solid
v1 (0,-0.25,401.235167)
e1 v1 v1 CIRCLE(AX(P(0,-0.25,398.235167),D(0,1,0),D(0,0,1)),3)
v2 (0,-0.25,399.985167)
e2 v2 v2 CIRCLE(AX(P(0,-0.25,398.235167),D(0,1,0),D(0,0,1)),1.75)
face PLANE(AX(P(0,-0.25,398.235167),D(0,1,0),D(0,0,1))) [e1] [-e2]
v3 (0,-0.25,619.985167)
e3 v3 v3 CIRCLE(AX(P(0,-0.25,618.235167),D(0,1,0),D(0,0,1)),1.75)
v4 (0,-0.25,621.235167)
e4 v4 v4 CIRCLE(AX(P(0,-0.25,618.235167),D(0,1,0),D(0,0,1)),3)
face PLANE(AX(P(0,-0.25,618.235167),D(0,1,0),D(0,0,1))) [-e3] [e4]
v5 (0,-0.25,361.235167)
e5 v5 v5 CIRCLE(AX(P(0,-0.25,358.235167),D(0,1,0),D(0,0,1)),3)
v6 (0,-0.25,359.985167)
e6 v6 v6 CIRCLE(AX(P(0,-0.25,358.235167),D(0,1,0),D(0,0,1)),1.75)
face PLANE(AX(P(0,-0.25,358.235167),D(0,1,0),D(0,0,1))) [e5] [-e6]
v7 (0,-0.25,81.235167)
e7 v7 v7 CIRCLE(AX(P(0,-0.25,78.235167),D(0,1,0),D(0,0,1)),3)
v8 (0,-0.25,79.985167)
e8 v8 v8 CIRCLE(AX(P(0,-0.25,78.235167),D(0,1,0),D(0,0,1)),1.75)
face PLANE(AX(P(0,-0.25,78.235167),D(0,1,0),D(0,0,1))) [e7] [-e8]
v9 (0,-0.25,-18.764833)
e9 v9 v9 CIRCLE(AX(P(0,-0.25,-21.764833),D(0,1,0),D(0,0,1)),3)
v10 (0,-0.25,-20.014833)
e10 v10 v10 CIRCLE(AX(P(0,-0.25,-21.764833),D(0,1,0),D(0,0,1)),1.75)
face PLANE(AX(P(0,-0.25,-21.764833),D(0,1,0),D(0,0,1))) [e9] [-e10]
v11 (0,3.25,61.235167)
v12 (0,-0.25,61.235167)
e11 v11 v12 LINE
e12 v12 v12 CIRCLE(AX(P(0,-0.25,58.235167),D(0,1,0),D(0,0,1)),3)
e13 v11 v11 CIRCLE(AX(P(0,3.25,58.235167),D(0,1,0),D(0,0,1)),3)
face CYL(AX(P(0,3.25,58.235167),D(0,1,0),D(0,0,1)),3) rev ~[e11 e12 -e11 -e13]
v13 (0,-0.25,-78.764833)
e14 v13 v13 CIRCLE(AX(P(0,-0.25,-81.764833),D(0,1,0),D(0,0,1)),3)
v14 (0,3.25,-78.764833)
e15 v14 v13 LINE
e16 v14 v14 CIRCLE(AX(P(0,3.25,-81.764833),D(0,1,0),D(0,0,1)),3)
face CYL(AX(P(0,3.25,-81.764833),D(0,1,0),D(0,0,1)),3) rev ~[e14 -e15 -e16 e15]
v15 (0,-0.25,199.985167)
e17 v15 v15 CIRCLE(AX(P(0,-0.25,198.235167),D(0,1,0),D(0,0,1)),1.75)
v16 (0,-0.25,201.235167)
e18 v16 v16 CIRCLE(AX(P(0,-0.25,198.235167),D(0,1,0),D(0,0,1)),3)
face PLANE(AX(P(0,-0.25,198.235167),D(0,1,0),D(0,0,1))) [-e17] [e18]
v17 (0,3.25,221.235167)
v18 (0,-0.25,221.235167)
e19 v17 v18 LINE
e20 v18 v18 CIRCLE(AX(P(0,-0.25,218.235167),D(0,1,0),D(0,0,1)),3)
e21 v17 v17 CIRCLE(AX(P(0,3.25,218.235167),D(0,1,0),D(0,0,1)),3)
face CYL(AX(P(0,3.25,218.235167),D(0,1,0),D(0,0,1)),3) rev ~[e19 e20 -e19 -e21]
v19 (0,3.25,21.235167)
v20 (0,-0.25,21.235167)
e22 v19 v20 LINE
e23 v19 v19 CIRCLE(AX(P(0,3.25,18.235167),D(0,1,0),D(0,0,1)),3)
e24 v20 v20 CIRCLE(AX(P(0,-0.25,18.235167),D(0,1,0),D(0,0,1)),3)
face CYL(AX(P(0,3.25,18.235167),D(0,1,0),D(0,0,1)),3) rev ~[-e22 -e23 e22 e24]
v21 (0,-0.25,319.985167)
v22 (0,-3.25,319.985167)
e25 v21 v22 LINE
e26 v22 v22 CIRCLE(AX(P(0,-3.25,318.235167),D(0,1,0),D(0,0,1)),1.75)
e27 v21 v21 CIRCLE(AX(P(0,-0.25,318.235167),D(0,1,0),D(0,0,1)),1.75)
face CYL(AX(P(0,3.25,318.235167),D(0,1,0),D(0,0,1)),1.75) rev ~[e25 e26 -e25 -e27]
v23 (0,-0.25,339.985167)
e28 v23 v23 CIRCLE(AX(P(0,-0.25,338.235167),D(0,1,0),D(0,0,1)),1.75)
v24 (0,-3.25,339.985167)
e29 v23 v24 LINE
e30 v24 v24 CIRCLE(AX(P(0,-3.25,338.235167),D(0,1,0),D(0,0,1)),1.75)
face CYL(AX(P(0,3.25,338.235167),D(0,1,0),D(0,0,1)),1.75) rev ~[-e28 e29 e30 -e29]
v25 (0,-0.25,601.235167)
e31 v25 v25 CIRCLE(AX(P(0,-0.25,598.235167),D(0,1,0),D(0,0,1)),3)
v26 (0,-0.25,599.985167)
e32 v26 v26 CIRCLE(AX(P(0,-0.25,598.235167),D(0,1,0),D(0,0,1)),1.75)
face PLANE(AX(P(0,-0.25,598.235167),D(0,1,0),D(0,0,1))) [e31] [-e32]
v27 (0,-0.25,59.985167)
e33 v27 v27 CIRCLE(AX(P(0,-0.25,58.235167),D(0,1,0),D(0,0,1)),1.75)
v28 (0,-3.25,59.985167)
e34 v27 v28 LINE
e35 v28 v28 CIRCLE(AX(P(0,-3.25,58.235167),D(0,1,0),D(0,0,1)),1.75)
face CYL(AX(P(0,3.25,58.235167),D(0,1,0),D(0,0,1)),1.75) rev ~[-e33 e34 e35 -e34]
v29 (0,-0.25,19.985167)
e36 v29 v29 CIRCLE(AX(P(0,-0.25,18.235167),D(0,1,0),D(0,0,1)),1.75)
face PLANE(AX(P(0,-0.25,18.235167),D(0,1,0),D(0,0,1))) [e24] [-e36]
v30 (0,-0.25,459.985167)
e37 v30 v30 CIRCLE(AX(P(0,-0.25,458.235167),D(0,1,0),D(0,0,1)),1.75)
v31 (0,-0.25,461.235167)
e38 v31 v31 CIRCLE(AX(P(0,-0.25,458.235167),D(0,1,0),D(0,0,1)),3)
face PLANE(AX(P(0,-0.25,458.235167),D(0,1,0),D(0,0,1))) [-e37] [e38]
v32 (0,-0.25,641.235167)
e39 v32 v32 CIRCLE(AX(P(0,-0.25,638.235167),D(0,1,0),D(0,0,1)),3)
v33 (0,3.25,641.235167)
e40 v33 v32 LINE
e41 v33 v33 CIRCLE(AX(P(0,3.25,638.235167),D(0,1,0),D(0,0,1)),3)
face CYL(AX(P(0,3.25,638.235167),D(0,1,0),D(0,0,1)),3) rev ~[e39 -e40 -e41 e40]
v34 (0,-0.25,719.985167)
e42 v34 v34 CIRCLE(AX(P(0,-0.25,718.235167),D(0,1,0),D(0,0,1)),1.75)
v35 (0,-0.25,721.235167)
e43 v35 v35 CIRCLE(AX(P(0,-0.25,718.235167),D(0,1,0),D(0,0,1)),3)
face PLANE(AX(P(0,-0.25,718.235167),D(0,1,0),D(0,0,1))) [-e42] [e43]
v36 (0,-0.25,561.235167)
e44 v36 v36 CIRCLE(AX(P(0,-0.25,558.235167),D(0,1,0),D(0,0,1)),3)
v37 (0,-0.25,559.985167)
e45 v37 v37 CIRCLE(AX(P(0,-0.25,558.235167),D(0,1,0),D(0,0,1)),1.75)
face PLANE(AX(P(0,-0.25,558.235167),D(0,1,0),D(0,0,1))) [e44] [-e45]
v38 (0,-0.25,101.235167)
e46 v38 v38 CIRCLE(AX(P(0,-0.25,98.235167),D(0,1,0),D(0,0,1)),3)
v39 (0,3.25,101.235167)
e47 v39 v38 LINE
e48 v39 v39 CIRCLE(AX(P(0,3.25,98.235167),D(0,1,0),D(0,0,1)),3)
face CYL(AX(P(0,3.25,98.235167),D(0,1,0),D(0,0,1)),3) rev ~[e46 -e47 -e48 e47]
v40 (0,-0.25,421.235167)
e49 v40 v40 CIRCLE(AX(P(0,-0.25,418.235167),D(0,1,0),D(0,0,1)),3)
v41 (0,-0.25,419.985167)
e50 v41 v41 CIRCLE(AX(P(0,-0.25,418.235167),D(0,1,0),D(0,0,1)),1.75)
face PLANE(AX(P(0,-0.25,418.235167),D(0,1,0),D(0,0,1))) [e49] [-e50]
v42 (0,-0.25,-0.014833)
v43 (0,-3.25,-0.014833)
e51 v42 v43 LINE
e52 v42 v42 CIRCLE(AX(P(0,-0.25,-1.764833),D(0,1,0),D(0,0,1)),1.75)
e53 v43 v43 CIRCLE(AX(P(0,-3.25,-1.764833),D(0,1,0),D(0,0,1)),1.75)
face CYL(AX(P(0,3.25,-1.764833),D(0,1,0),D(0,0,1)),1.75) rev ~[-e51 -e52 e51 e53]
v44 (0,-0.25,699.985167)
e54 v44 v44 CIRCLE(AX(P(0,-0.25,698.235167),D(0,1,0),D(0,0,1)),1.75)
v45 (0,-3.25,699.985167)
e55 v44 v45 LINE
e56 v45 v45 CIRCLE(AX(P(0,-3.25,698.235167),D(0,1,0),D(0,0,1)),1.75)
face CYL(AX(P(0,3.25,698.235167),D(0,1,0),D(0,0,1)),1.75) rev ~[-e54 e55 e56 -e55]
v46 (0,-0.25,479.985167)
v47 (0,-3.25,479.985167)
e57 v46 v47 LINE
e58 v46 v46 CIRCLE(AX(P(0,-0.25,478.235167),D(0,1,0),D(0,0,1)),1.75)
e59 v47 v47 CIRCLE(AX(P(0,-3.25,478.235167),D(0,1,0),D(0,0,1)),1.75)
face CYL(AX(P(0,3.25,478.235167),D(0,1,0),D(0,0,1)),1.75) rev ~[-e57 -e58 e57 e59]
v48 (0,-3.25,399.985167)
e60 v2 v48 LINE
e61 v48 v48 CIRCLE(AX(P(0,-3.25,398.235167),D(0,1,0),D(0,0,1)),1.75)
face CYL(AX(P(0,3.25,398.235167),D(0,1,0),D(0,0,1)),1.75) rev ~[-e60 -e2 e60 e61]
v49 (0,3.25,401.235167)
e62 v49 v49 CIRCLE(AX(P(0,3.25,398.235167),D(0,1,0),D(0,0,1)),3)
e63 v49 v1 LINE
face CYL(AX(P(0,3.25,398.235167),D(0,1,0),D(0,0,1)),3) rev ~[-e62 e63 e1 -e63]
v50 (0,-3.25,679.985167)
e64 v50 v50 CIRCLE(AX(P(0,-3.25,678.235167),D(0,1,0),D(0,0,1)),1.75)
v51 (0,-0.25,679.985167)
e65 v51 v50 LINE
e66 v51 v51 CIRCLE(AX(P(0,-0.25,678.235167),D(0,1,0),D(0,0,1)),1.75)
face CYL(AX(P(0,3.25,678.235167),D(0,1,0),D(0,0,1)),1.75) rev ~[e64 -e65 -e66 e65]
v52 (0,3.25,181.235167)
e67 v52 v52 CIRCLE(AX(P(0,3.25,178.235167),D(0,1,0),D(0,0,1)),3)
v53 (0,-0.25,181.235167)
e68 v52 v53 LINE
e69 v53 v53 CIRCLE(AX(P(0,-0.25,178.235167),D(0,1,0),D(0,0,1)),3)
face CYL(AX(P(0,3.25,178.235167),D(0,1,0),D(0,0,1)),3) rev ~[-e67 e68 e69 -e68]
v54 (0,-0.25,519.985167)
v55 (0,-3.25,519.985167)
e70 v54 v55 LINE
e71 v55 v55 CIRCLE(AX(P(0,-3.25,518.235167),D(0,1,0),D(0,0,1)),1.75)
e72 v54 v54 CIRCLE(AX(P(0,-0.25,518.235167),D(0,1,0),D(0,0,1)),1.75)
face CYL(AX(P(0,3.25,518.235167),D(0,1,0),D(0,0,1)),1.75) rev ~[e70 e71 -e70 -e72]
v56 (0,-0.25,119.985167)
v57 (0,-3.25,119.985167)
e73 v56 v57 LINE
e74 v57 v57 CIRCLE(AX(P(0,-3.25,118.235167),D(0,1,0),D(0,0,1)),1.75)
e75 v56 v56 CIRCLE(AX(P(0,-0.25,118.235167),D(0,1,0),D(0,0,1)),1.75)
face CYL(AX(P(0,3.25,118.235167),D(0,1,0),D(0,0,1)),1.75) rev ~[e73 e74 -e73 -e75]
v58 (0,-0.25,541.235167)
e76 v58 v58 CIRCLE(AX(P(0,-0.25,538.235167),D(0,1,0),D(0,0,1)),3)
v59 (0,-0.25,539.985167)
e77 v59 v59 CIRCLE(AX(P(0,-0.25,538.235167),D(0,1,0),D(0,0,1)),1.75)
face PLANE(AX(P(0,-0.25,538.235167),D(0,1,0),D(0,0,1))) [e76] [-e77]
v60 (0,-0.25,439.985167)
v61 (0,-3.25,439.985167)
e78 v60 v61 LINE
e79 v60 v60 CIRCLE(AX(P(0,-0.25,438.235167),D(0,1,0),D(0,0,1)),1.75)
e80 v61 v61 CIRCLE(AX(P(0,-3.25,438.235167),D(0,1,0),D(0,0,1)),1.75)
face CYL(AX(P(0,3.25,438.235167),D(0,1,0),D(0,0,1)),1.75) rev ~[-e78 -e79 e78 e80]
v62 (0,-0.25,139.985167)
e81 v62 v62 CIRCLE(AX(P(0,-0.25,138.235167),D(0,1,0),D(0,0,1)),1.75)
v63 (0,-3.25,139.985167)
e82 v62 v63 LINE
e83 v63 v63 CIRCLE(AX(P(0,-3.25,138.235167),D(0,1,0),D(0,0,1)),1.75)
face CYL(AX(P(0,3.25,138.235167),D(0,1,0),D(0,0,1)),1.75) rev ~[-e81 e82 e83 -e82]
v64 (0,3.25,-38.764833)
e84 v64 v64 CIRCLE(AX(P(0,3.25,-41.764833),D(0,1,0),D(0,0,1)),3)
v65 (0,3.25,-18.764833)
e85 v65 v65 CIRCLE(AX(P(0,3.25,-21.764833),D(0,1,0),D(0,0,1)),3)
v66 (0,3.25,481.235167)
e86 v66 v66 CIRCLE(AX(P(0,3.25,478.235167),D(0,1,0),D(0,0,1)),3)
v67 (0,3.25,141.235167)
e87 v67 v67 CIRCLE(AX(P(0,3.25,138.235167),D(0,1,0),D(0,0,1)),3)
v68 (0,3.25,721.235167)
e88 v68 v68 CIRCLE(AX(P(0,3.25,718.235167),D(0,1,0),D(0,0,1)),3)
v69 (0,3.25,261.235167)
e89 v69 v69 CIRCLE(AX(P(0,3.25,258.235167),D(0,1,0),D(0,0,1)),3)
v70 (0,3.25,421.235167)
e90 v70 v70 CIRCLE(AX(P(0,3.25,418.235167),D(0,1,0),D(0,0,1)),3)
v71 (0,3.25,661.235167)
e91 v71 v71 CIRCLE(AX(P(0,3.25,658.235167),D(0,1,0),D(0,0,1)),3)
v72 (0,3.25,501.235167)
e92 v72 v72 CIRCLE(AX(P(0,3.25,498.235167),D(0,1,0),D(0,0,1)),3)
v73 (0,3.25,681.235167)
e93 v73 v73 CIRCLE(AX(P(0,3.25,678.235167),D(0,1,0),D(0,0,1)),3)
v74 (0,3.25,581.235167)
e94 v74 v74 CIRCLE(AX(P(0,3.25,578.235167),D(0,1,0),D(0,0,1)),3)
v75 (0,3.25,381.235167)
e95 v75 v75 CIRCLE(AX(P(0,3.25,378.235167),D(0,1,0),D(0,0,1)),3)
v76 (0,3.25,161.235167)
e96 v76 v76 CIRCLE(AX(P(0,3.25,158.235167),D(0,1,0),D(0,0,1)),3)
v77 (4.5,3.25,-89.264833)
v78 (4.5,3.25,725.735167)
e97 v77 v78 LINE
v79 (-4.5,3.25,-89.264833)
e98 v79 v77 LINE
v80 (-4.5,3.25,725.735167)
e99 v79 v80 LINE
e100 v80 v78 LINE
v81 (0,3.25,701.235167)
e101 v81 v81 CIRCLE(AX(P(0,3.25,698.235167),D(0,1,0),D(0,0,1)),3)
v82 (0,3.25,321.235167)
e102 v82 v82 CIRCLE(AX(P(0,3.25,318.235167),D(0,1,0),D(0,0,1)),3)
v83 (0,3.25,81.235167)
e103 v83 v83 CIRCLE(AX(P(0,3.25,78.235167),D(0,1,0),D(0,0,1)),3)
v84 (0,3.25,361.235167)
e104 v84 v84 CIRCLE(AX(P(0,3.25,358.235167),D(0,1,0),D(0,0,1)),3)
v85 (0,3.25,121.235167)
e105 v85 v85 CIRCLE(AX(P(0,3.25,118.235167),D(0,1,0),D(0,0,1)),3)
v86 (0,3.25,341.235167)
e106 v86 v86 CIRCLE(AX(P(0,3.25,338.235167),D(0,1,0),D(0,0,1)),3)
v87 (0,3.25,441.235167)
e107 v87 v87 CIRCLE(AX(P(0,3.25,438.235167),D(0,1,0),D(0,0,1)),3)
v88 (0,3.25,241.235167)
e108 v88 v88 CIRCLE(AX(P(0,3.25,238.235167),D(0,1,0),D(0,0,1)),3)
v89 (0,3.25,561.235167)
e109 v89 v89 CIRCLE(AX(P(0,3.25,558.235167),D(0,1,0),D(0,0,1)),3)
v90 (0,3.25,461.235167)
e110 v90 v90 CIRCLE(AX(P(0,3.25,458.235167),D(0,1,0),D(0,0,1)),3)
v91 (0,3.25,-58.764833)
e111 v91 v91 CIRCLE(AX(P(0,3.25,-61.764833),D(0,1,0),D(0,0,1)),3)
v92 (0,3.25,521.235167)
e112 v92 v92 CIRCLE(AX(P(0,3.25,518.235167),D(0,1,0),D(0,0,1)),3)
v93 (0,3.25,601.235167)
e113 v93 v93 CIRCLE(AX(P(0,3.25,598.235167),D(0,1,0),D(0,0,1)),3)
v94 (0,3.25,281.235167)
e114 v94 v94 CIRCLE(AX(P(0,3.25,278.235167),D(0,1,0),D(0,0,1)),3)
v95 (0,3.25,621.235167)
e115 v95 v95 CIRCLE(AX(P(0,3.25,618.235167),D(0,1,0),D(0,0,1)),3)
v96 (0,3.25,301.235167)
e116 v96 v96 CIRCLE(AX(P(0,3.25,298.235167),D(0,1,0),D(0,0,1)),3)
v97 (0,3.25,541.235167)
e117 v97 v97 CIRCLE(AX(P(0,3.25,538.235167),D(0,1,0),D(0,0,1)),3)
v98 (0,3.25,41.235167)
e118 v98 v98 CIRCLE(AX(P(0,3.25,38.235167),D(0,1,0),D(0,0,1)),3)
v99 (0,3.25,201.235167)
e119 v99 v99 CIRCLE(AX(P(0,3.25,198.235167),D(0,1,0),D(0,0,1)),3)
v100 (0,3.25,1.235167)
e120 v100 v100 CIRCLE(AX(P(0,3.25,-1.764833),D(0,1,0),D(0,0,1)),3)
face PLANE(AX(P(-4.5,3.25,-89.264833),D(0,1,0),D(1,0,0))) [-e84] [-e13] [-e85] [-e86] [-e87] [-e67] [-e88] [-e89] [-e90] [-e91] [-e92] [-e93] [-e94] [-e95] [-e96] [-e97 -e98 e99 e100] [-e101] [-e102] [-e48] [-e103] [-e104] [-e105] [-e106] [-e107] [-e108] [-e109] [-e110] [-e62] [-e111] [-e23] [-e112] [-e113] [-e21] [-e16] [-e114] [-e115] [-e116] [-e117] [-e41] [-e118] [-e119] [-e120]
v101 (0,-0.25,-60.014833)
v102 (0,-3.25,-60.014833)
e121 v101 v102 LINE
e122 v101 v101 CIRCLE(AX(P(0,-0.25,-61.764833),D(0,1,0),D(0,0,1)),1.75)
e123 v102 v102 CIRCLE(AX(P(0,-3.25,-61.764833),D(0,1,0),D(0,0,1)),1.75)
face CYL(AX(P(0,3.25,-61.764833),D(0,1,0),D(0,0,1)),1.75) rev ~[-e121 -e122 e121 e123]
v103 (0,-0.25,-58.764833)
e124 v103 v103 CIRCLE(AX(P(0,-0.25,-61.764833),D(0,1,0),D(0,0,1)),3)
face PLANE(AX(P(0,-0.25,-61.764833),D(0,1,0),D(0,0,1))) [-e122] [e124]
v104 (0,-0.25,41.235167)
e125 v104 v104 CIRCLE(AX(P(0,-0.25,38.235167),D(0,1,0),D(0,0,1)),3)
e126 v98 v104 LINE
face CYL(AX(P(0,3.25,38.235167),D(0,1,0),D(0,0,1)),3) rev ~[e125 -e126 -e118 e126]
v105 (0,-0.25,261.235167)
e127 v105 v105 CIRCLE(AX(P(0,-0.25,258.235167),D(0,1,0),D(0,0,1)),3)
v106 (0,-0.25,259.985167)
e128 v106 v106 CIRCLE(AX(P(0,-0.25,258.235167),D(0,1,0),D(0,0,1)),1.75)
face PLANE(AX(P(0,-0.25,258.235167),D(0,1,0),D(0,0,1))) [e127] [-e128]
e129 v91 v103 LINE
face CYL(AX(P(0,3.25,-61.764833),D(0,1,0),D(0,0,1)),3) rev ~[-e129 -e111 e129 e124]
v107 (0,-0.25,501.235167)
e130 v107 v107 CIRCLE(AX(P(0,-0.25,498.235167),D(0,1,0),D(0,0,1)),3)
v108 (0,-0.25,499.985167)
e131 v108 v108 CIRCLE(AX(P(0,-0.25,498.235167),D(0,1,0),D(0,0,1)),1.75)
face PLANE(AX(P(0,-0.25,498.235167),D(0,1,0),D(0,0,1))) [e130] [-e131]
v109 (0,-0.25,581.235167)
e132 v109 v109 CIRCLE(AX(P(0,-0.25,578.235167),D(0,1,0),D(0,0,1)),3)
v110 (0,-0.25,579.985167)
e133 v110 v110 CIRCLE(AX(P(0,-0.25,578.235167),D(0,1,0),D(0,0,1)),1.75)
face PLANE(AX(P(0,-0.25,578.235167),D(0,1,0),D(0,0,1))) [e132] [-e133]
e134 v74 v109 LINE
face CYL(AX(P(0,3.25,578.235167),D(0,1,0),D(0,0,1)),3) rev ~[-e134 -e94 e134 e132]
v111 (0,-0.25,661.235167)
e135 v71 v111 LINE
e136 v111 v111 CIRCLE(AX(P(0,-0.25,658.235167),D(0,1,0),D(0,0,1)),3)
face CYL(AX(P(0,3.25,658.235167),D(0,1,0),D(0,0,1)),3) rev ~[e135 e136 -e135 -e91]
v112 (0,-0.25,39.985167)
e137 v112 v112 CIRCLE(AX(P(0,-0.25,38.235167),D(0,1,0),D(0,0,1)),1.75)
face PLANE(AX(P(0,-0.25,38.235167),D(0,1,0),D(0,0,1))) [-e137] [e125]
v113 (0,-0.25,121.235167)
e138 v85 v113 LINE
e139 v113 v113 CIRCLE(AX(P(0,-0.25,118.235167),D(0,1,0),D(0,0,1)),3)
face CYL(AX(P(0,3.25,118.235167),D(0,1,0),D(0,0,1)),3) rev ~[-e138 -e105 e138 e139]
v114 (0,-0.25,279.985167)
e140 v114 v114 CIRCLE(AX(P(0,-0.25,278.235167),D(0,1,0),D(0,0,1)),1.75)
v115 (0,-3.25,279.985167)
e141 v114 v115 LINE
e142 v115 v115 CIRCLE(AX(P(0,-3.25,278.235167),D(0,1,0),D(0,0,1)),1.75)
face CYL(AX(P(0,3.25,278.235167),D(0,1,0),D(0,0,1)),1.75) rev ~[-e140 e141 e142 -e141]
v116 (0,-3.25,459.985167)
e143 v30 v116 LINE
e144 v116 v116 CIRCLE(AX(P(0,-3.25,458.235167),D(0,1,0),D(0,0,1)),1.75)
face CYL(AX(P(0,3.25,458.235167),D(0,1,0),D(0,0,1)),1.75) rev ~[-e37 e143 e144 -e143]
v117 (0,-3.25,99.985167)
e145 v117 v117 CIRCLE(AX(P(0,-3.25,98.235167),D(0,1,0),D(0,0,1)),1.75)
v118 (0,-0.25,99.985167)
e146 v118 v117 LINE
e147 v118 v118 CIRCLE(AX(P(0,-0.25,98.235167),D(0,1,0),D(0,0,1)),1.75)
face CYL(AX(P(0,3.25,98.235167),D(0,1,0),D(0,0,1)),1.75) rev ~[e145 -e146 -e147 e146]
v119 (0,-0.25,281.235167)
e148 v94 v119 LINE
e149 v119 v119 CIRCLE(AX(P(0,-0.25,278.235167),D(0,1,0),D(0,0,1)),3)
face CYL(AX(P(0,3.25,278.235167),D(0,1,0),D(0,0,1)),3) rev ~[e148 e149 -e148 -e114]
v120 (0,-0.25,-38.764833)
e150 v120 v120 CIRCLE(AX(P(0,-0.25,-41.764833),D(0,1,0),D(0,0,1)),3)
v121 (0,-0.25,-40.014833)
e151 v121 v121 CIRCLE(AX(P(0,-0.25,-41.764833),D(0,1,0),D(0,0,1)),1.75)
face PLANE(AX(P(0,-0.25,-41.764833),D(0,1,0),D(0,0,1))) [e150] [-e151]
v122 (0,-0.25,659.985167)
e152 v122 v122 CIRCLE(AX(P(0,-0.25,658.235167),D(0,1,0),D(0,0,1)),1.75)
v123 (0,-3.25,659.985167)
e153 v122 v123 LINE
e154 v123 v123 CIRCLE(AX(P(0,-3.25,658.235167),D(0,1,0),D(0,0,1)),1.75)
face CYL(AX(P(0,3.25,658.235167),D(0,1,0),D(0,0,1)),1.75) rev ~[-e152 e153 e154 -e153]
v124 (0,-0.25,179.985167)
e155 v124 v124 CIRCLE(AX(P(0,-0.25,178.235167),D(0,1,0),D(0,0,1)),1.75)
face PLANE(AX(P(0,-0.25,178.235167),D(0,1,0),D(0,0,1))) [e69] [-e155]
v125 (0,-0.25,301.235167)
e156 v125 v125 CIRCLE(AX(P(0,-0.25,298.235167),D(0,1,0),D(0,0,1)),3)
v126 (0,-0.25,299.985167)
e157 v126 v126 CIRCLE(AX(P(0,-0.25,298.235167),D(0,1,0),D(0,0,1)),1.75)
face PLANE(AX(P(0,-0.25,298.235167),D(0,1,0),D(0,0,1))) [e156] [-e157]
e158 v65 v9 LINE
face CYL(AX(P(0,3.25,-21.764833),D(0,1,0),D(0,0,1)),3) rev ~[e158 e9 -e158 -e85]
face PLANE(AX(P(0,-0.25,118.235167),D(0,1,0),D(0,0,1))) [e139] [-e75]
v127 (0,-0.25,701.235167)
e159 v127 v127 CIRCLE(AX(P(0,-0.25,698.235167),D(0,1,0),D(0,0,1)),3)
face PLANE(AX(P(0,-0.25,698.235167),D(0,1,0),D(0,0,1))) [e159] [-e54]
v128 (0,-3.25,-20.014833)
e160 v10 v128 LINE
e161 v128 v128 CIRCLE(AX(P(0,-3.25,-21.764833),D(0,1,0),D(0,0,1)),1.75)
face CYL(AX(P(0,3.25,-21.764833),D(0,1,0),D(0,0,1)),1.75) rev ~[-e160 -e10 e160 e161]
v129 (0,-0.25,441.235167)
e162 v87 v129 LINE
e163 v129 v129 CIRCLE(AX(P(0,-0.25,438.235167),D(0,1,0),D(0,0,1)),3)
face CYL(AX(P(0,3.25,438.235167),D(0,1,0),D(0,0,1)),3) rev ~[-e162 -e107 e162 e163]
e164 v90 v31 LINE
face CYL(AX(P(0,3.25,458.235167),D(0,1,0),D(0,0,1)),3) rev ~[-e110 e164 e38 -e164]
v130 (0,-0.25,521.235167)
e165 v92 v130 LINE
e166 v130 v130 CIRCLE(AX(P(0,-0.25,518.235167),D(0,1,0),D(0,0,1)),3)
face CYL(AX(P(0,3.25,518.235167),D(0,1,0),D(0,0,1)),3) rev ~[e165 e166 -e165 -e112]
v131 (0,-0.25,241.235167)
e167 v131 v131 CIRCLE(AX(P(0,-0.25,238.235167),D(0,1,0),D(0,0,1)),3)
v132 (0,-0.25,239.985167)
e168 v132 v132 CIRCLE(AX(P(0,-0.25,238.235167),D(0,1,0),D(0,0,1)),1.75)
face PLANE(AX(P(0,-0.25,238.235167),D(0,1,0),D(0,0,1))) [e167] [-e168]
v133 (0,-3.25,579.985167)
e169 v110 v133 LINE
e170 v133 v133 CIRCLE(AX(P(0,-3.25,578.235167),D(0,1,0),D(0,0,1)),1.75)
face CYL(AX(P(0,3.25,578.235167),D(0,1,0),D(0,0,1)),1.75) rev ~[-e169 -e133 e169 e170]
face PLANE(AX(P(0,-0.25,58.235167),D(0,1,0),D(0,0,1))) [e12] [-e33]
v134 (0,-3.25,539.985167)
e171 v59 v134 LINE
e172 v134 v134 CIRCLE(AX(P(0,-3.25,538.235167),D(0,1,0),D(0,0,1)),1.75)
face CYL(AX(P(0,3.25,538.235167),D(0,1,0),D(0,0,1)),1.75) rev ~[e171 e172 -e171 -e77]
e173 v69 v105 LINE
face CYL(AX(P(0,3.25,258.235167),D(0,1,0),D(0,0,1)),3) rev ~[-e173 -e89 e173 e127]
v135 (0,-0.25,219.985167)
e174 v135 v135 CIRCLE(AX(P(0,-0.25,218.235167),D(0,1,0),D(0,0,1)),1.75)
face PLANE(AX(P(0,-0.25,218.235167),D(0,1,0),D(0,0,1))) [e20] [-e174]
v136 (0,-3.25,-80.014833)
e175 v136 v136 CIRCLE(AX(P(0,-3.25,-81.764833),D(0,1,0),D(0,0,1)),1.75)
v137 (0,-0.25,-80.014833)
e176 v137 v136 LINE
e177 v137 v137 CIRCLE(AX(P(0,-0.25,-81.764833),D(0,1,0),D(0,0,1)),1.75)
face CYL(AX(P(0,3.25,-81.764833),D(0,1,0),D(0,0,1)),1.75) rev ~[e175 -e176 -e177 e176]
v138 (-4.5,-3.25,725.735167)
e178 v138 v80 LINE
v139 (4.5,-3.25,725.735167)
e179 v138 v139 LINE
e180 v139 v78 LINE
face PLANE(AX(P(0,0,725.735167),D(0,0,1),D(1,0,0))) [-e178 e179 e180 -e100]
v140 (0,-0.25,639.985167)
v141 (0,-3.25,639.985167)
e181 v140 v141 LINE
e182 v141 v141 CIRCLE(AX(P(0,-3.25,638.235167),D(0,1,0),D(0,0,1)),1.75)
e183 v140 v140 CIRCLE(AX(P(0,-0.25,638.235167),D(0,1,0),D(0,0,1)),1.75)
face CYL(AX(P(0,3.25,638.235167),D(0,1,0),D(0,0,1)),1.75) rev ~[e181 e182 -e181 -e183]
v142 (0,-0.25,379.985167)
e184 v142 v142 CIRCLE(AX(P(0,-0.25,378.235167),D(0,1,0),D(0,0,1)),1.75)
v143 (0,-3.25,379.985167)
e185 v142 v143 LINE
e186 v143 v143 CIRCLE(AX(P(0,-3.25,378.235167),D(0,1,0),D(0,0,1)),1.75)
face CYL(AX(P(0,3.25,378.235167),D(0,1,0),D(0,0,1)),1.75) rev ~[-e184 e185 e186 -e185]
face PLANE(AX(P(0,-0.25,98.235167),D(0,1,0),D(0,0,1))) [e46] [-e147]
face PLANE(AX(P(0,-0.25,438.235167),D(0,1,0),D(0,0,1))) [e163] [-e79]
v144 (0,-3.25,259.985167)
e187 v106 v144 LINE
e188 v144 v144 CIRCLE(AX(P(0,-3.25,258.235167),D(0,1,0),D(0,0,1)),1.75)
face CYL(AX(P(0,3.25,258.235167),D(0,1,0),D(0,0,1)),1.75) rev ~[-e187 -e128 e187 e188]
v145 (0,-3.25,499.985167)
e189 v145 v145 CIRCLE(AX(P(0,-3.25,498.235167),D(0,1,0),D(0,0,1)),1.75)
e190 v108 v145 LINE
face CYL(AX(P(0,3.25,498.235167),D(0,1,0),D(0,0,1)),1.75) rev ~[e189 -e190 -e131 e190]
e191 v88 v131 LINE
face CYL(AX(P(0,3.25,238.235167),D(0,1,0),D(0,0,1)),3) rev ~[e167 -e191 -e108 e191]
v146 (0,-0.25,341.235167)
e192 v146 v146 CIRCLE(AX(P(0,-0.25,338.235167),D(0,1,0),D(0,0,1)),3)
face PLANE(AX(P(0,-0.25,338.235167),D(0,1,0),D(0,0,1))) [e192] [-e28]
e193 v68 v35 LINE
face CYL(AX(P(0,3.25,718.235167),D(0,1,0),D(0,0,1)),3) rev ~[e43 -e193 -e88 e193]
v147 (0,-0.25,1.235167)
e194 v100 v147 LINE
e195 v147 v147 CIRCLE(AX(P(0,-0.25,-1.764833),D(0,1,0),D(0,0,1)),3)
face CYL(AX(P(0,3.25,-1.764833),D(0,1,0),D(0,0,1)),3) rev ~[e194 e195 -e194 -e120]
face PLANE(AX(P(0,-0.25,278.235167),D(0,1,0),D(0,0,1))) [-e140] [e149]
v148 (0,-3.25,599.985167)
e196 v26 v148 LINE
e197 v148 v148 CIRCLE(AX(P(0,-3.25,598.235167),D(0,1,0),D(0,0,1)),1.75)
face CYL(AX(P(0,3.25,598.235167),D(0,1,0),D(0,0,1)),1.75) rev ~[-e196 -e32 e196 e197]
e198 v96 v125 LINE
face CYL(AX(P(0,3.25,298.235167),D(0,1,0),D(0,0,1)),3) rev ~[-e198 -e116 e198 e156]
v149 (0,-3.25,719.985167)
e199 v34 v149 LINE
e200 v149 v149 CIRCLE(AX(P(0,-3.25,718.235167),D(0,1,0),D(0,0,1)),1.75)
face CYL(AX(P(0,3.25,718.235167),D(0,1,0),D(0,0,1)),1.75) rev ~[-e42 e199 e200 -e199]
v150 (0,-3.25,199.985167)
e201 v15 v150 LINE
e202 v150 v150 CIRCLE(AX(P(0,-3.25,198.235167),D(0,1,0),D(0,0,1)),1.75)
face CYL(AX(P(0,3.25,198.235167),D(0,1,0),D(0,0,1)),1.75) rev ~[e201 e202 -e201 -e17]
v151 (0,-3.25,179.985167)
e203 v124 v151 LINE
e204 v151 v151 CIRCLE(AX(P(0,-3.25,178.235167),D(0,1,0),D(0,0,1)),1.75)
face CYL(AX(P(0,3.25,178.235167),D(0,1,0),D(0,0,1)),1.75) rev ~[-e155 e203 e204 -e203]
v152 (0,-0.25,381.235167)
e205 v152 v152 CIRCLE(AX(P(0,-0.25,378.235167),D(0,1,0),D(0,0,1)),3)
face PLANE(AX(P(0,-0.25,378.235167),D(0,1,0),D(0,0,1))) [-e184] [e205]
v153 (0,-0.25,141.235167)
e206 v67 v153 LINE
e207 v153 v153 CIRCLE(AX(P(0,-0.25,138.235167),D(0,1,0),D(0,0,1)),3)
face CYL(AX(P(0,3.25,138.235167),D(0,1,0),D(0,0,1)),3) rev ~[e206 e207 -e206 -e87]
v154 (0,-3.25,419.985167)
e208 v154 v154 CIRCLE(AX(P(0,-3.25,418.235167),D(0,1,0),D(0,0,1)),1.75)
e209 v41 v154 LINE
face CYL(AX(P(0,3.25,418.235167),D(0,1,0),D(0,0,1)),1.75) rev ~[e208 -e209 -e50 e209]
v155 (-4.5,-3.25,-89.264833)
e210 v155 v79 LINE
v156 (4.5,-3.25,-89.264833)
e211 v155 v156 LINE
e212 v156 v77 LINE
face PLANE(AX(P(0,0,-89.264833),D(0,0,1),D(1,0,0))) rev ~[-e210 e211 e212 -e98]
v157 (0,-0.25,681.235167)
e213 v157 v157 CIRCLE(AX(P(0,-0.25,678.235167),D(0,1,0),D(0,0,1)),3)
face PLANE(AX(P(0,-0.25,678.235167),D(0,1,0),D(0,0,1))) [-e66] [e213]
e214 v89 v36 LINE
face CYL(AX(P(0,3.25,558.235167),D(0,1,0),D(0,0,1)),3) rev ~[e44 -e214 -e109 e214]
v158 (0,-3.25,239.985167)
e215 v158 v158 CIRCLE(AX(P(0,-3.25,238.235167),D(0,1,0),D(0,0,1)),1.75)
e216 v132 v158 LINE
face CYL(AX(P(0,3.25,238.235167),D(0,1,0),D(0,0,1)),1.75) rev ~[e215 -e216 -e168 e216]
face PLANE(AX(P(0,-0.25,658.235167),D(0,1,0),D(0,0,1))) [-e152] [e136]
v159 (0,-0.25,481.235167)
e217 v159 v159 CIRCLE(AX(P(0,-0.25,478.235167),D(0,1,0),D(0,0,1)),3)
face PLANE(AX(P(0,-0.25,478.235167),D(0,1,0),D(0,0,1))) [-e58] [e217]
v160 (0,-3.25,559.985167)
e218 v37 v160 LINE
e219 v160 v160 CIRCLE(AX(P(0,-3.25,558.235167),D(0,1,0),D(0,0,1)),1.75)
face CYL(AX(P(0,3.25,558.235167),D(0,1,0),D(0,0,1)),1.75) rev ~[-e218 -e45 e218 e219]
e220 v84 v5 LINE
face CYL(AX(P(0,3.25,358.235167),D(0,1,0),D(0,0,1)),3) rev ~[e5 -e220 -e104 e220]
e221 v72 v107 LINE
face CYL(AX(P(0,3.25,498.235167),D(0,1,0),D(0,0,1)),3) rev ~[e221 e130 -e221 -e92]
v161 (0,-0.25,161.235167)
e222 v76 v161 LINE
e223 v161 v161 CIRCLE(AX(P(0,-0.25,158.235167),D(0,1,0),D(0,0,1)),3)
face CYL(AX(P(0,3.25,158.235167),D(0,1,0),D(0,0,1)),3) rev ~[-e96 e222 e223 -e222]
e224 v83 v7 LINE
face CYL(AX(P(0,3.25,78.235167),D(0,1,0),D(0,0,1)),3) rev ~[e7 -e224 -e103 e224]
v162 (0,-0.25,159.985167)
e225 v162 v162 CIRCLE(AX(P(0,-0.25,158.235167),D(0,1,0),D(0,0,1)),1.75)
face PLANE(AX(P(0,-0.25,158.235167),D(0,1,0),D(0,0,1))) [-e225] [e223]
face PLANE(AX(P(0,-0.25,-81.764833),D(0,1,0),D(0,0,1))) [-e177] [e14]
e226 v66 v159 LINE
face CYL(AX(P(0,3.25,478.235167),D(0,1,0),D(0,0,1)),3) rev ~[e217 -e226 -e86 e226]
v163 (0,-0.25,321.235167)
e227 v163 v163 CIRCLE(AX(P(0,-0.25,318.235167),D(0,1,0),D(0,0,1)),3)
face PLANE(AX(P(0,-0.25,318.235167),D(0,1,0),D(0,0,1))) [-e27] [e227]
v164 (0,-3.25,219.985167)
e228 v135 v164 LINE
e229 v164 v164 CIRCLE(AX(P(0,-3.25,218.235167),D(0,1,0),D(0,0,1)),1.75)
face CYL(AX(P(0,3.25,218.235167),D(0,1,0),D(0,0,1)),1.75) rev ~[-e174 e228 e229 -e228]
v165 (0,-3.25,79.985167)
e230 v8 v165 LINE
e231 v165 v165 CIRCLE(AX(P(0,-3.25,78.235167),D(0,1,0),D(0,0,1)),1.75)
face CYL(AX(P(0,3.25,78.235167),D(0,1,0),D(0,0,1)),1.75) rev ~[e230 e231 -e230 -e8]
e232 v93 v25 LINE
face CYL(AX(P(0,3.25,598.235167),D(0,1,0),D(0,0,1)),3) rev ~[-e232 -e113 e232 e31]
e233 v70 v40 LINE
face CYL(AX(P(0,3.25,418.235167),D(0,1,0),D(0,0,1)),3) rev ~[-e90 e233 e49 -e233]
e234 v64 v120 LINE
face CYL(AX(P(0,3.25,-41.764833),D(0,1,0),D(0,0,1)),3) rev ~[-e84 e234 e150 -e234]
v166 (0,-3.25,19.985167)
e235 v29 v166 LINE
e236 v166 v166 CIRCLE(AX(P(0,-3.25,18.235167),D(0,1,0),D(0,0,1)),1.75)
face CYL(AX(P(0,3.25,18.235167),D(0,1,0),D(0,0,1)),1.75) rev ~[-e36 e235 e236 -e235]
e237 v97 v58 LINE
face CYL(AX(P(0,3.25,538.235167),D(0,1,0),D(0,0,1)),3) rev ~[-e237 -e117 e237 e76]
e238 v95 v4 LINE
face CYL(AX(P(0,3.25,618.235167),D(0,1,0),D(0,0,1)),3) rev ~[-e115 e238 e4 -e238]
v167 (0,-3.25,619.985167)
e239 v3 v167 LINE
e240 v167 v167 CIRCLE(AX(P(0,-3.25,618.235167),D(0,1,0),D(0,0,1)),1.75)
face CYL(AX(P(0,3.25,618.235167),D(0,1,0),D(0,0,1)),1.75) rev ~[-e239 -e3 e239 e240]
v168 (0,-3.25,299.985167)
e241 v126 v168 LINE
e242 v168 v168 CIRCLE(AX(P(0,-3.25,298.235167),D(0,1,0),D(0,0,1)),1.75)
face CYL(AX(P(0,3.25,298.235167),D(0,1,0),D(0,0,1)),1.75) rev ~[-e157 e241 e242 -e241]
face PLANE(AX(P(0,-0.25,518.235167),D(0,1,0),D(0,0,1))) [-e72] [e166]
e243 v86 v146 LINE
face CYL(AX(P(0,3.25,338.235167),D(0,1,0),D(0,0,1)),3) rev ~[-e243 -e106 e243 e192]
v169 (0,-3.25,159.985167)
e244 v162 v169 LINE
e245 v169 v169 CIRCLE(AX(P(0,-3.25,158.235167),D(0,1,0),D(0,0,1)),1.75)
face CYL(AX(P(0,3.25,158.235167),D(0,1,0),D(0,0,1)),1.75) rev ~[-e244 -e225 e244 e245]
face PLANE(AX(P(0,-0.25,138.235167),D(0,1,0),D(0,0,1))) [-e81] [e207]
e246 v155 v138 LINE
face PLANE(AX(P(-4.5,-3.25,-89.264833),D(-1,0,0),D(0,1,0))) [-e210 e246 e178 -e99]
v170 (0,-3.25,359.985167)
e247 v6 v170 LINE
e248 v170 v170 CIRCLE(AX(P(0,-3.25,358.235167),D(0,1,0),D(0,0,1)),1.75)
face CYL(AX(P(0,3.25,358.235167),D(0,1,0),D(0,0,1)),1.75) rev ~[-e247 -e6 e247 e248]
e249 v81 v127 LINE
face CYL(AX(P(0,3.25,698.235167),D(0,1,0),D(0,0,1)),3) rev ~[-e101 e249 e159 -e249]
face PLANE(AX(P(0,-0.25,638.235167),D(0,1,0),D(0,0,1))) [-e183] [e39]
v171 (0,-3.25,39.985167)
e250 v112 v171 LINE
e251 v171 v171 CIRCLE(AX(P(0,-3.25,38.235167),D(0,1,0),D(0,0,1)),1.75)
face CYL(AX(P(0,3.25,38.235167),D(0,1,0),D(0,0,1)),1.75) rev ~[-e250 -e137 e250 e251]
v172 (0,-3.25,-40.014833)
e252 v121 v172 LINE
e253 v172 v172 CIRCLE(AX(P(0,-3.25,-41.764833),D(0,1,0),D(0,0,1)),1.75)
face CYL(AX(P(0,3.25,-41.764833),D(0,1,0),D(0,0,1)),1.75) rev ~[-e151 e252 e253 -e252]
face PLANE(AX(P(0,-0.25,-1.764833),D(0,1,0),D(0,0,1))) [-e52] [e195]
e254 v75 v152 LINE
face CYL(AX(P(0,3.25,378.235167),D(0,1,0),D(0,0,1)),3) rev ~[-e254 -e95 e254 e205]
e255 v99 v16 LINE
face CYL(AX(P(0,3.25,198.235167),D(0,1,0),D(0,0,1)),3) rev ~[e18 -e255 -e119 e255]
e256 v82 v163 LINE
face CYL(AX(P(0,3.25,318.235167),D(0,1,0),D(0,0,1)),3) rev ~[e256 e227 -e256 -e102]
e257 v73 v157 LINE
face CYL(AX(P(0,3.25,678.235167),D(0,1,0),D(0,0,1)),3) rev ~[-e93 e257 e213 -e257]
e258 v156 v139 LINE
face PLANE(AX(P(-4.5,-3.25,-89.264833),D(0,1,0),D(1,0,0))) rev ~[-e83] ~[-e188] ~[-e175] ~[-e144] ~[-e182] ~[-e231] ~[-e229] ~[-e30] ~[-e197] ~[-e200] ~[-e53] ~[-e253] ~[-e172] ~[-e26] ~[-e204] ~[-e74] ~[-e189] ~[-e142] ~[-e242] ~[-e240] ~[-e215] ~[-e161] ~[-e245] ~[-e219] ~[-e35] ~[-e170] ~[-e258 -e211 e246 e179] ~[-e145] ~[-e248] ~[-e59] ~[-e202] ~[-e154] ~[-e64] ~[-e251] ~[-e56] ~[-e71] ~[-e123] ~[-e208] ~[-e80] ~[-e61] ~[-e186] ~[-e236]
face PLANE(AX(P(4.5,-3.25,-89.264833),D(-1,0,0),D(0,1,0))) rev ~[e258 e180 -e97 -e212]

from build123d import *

# Parameters (mm, degrees)
SKETCH_1_W          = 9
SKETCH_1_H          = 6.5
EXTRUDE_1_DEPTH     = 815
SKETCH_2_R          = 1.750000006
CUT_EXTRUDE_1_DEPTH = 726.778225985
SKETCH_3_R          = 3.000000006
CUT_EXTRUDE_2_DEPTH = 3.5


with BuildPart() as part:
    # 草图1 → 凸台-拉伸1 (new body)
    with BuildSketch(Plane.XY.offset(-89.264832522)):
        Rectangle(SKETCH_1_W, SKETCH_1_H)
    extrude(amount=EXTRUDE_1_DEPTH)

    # 草图2 → 切除-拉伸1 (cut, through all)
    with BuildSketch(Plane(origin=(0, 3.25, 0), x_dir=(1, 0, 0), z_dir=(0, 1, 0))):
        with Locations(Location((0, 81.764832522, 0), (0, 0, 270))):
            Circle(SKETCH_2_R)
        with Locations(Location((0, 61.764832522, 0), (0, 0, 270))):
            Circle(SKETCH_2_R)
        with Locations(Location((0, 41.764832522, 0), (0, 0, 270))):
            Circle(SKETCH_2_R)
        with Locations(Location((0, 21.764832522, 0), (0, 0, 270))):
            Circle(SKETCH_2_R)
        with Locations(Location((0, 1.764832522, 0), (0, 0, 270))):
            Circle(SKETCH_2_R)
        with Locations(Location((0, -18.235167478, 0), (0, 0, 270))):
            Circle(SKETCH_2_R)
        with Locations(Location((0, -38.235167478, 0), (0, 0, 270))):
            Circle(SKETCH_2_R)
        with Locations(Location((0, -58.235167478, 0), (0, 0, 270))):
            Circle(SKETCH_2_R)
        with Locations(Location((0, -78.235167478, 0), (0, 0, 270))):
            Circle(SKETCH_2_R)
        with Locations(Location((0, -98.235167478, 0), (0, 0, 270))):
            Circle(SKETCH_2_R)
        with Locations(Location((0, -118.235167478, 0), (0, 0, 270))):
            Circle(SKETCH_2_R)
        with Locations(Location((0, -138.235167478, 0), (0, 0, 270))):
            Circle(SKETCH_2_R)
        with Locations(Location((0, -158.235167478, 0), (0, 0, 270))):
            Circle(SKETCH_2_R)
        with Locations(Location((0, -178.235167478, 0), (0, 0, 270))):
            Circle(SKETCH_2_R)
        with Locations(Location((0, -198.235167478, 0), (0, 0, 270))):
            Circle(SKETCH_2_R)
        with Locations(Location((0, -218.235167478, 0), (0, 0, 270))):
            Circle(SKETCH_2_R)
        with Locations(Location((0, -238.235167478, 0), (0, 0, 270))):
            Circle(SKETCH_2_R)
        with Locations(Location((0, -258.235167478, 0), (0, 0, 270))):
            Circle(SKETCH_2_R)
        with Locations(Location((0, -278.235167478, 0), (0, 0, 270))):
            Circle(SKETCH_2_R)
        with Locations(Location((0, -298.235167478, 0), (0, 0, 270))):
            Circle(SKETCH_2_R)
        with Locations(Location((0, -318.235167478, 0), (0, 0, 270))):
            Circle(SKETCH_2_R)
        with Locations(Location((0, -338.235167478, 0), (0, 0, 270))):
            Circle(SKETCH_2_R)
        with Locations(Location((0, -358.235167478, 0), (0, 0, 270))):
            Circle(SKETCH_2_R)
        with Locations(Location((0, -378.235167478, 0), (0, 0, 270))):
            Circle(SKETCH_2_R)
        with Locations(Location((0, -398.235167478, 0), (0, 0, 270))):
            Circle(SKETCH_2_R)
        with Locations(Location((0, -418.235167478, 0), (0, 0, 270))):
            Circle(SKETCH_2_R)
        with Locations(Location((0, -438.235167478, 0), (0, 0, 270))):
            Circle(SKETCH_2_R)
        with Locations(Location((0, -458.235167478, 0), (0, 0, 270))):
            Circle(SKETCH_2_R)
        with Locations(Location((0, -478.235167478, 0), (0, 0, 270))):
            Circle(SKETCH_2_R)
        with Locations(Location((0, -498.235167478, 0), (0, 0, 270))):
            Circle(SKETCH_2_R)
        with Locations(Location((0, -518.235167478, 0), (0, 0, 270))):
            Circle(SKETCH_2_R)
        with Locations(Location((0, -538.235167478, 0), (0, 0, 270))):
            Circle(SKETCH_2_R)
        with Locations(Location((0, -558.235167478, 0), (0, 0, 270))):
            Circle(SKETCH_2_R)
        with Locations(Location((0, -578.235167478, 0), (0, 0, 270))):
            Circle(SKETCH_2_R)
        with Locations(Location((0, -598.235167478, 0), (0, 0, 270))):
            Circle(SKETCH_2_R)
        with Locations(Location((0, -618.235167478, 0), (0, 0, 270))):
            Circle(SKETCH_2_R)
        with Locations(Location((0, -638.235167478, 0), (0, 0, 270))):
            Circle(SKETCH_2_R)
        with Locations(Location((0, -658.235167478, 0), (0, 0, 270))):
            Circle(SKETCH_2_R)
        with Locations(Location((0, -678.235167478, 0), (0, 0, 270))):
            Circle(SKETCH_2_R)
        with Locations(Location((0, -698.235167478, 0), (0, 0, 270))):
            Circle(SKETCH_2_R)
        with Locations(Location((0, -718.235167478, 0), (0, 0, 270))):
            Circle(SKETCH_2_R)
        with Locations((0, -738.235167478)):
            Circle(SKETCH_2_R)
        with Locations((0, -758.235167478)):
            Circle(SKETCH_2_R)
        with Locations((0, -778.235167478)):
            Circle(SKETCH_2_R)
        with Locations((0, -798.235167478)):
            Circle(SKETCH_2_R)
        with Locations((0, -818.235167478)):
            Circle(SKETCH_2_R)
        with Locations((0, -838.235167478)):
            Circle(SKETCH_2_R)
        with Locations((0, -858.235167478)):
            Circle(SKETCH_2_R)
        with Locations((0, -878.235167478)):
            Circle(SKETCH_2_R)
        with Locations((0, -898.235167478)):
            Circle(SKETCH_2_R)
        with Locations((0, -918.235167478)):
            Circle(SKETCH_2_R)
        with Locations((0, -938.235167478)):
            Circle(SKETCH_2_R)
        with Locations((0, -958.235167478)):
            Circle(SKETCH_2_R)
        with Locations((0, -978.235167478)):
            Circle(SKETCH_2_R)
        with Locations((0, -998.235167478)):
            Circle(SKETCH_2_R)
        with Locations((0, -1018.235167478)):
            Circle(SKETCH_2_R)
        with Locations((0, -1038.235167478)):
            Circle(SKETCH_2_R)
        with Locations((0, -1058.235167478)):
            Circle(SKETCH_2_R)
        with Locations((0, -1078.235167478)):
            Circle(SKETCH_2_R)
        with Locations((0, -1098.235167478)):
            Circle(SKETCH_2_R)
    extrude(amount=-CUT_EXTRUDE_1_DEPTH, mode=Mode.SUBTRACT)

    # 草图3 → 切除-拉伸2 (cut)
    with BuildSketch(Plane(origin=(0, 3.25, 0), x_dir=(1, 0, 0), z_dir=(0, 1, 0))):
        with Locations(Location((0, 81.764832522, 0), (0, 0, 270))):
            Circle(SKETCH_3_R)
        with Locations(Location((0, 61.764832522, 0), (0, 0, 270))):
            Circle(SKETCH_3_R)
        with Locations(Location((0, 41.764832522, 0), (0, 0, 270))):
            Circle(SKETCH_3_R)
        with Locations(Location((0, 21.764832522, 0), (0, 0, 270))):
            Circle(SKETCH_3_R)
        with Locations(Location((0, 1.764832522, 0), (0, 0, 270))):
            Circle(SKETCH_3_R)
        with Locations(Location((0, -18.235167478, 0), (0, 0, 270))):
            Circle(SKETCH_3_R)
        with Locations(Location((0, -38.235167478, 0), (0, 0, 270))):
            Circle(SKETCH_3_R)
        with Locations(Location((0, -58.235167478, 0), (0, 0, 270))):
            Circle(SKETCH_3_R)
        with Locations(Location((0, -78.235167478, 0), (0, 0, 270))):
            Circle(SKETCH_3_R)
        with Locations(Location((0, -98.235167478, 0), (0, 0, 270))):
            Circle(SKETCH_3_R)
        with Locations(Location((0, -118.235167478, 0), (0, 0, 270))):
            Circle(SKETCH_3_R)
        with Locations(Location((0, -138.235167478, 0), (0, 0, 270))):
            Circle(SKETCH_3_R)
        with Locations(Location((0, -158.235167478, 0), (0, 0, 270))):
            Circle(SKETCH_3_R)
        with Locations(Location((0, -178.235167478, 0), (0, 0, 270))):
            Circle(SKETCH_3_R)
        with Locations(Location((0, -198.235167478, 0), (0, 0, 270))):
            Circle(SKETCH_3_R)
        with Locations(Location((0, -218.235167478, 0), (0, 0, 270))):
            Circle(SKETCH_3_R)
        with Locations(Location((0, -238.235167478, 0), (0, 0, 270))):
            Circle(SKETCH_3_R)
        with Locations(Location((0, -258.235167478, 0), (0, 0, 270))):
            Circle(SKETCH_3_R)
        with Locations(Location((0, -278.235167478, 0), (0, 0, 270))):
            Circle(SKETCH_3_R)
        with Locations(Location((0, -298.235167478, 0), (0, 0, 270))):
            Circle(SKETCH_3_R)
        with Locations(Location((0, -318.235167478, 0), (0, 0, 270))):
            Circle(SKETCH_3_R)
        with Locations(Location((0, -338.235167478, 0), (0, 0, 270))):
            Circle(SKETCH_3_R)
        with Locations(Location((0, -358.235167478, 0), (0, 0, 270))):
            Circle(SKETCH_3_R)
        with Locations(Location((0, -378.235167478, 0), (0, 0, 270))):
            Circle(SKETCH_3_R)
        with Locations(Location((0, -398.235167478, 0), (0, 0, 270))):
            Circle(SKETCH_3_R)
        with Locations(Location((0, -418.235167478, 0), (0, 0, 270))):
            Circle(SKETCH_3_R)
        with Locations(Location((0, -438.235167478, 0), (0, 0, 270))):
            Circle(SKETCH_3_R)
        with Locations(Location((0, -458.235167478, 0), (0, 0, 270))):
            Circle(SKETCH_3_R)
        with Locations(Location((0, -478.235167478, 0), (0, 0, 270))):
            Circle(SKETCH_3_R)
        with Locations(Location((0, -498.235167478, 0), (0, 0, 270))):
            Circle(SKETCH_3_R)
        with Locations(Location((0, -518.235167478, 0), (0, 0, 270))):
            Circle(SKETCH_3_R)
        with Locations(Location((0, -538.235167478, 0), (0, 0, 270))):
            Circle(SKETCH_3_R)
        with Locations(Location((0, -558.235167478, 0), (0, 0, 270))):
            Circle(SKETCH_3_R)
        with Locations(Location((0, -578.235167478, 0), (0, 0, 270))):
            Circle(SKETCH_3_R)
        with Locations(Location((0, -598.235167478, 0), (0, 0, 270))):
            Circle(SKETCH_3_R)
        with Locations(Location((0, -618.235167478, 0), (0, 0, 270))):
            Circle(SKETCH_3_R)
        with Locations(Location((0, -638.235167478, 0), (0, 0, 270))):
            Circle(SKETCH_3_R)
        with Locations(Location((0, -658.235167478, 0), (0, 0, 270))):
            Circle(SKETCH_3_R)
        with Locations(Location((0, -678.235167478, 0), (0, 0, 270))):
            Circle(SKETCH_3_R)
        with Locations(Location((0, -698.235167478, 0), (0, 0, 270))):
            Circle(SKETCH_3_R)
        with Locations(Location((0, -718.235167478, 0), (0, 0, 270))):
            Circle(SKETCH_3_R)
        with Locations((0, -738.235167478)):
            Circle(SKETCH_3_R)
        with Locations((0, -758.235167478)):
            Circle(SKETCH_3_R)
        with Locations((0, -778.235167478)):
            Circle(SKETCH_3_R)
        with Locations((0, -798.235167478)):
            Circle(SKETCH_3_R)
        with Locations((0, -818.235167478)):
            Circle(SKETCH_3_R)
        with Locations((0, -838.235167478)):
            Circle(SKETCH_3_R)
        with Locations((0, -858.235167478)):
            Circle(SKETCH_3_R)
        with Locations((0, -878.235167478)):
            Circle(SKETCH_3_R)
        with Locations((0, -898.235167478)):
            Circle(SKETCH_3_R)
        with Locations((0, -918.235167478)):
            Circle(SKETCH_3_R)
        with Locations((0, -938.235167478)):
            Circle(SKETCH_3_R)
        with Locations((0, -958.235167478)):
            Circle(SKETCH_3_R)
        with Locations((0, -978.235167478)):
            Circle(SKETCH_3_R)
        with Locations((0, -998.235167478)):
            Circle(SKETCH_3_R)
        with Locations((0, -1018.235167478)):
            Circle(SKETCH_3_R)
        with Locations((0, -1038.235167478)):
            Circle(SKETCH_3_R)
        with Locations((0, -1058.235167478)):
            Circle(SKETCH_3_R)
        with Locations((0, -1078.235167478)):
            Circle(SKETCH_3_R)
        with Locations((0, -1098.235167478)):
            Circle(SKETCH_3_R)
    extrude(amount=-CUT_EXTRUDE_2_DEPTH, mode=Mode.SUBTRACT)


solid = part.part
